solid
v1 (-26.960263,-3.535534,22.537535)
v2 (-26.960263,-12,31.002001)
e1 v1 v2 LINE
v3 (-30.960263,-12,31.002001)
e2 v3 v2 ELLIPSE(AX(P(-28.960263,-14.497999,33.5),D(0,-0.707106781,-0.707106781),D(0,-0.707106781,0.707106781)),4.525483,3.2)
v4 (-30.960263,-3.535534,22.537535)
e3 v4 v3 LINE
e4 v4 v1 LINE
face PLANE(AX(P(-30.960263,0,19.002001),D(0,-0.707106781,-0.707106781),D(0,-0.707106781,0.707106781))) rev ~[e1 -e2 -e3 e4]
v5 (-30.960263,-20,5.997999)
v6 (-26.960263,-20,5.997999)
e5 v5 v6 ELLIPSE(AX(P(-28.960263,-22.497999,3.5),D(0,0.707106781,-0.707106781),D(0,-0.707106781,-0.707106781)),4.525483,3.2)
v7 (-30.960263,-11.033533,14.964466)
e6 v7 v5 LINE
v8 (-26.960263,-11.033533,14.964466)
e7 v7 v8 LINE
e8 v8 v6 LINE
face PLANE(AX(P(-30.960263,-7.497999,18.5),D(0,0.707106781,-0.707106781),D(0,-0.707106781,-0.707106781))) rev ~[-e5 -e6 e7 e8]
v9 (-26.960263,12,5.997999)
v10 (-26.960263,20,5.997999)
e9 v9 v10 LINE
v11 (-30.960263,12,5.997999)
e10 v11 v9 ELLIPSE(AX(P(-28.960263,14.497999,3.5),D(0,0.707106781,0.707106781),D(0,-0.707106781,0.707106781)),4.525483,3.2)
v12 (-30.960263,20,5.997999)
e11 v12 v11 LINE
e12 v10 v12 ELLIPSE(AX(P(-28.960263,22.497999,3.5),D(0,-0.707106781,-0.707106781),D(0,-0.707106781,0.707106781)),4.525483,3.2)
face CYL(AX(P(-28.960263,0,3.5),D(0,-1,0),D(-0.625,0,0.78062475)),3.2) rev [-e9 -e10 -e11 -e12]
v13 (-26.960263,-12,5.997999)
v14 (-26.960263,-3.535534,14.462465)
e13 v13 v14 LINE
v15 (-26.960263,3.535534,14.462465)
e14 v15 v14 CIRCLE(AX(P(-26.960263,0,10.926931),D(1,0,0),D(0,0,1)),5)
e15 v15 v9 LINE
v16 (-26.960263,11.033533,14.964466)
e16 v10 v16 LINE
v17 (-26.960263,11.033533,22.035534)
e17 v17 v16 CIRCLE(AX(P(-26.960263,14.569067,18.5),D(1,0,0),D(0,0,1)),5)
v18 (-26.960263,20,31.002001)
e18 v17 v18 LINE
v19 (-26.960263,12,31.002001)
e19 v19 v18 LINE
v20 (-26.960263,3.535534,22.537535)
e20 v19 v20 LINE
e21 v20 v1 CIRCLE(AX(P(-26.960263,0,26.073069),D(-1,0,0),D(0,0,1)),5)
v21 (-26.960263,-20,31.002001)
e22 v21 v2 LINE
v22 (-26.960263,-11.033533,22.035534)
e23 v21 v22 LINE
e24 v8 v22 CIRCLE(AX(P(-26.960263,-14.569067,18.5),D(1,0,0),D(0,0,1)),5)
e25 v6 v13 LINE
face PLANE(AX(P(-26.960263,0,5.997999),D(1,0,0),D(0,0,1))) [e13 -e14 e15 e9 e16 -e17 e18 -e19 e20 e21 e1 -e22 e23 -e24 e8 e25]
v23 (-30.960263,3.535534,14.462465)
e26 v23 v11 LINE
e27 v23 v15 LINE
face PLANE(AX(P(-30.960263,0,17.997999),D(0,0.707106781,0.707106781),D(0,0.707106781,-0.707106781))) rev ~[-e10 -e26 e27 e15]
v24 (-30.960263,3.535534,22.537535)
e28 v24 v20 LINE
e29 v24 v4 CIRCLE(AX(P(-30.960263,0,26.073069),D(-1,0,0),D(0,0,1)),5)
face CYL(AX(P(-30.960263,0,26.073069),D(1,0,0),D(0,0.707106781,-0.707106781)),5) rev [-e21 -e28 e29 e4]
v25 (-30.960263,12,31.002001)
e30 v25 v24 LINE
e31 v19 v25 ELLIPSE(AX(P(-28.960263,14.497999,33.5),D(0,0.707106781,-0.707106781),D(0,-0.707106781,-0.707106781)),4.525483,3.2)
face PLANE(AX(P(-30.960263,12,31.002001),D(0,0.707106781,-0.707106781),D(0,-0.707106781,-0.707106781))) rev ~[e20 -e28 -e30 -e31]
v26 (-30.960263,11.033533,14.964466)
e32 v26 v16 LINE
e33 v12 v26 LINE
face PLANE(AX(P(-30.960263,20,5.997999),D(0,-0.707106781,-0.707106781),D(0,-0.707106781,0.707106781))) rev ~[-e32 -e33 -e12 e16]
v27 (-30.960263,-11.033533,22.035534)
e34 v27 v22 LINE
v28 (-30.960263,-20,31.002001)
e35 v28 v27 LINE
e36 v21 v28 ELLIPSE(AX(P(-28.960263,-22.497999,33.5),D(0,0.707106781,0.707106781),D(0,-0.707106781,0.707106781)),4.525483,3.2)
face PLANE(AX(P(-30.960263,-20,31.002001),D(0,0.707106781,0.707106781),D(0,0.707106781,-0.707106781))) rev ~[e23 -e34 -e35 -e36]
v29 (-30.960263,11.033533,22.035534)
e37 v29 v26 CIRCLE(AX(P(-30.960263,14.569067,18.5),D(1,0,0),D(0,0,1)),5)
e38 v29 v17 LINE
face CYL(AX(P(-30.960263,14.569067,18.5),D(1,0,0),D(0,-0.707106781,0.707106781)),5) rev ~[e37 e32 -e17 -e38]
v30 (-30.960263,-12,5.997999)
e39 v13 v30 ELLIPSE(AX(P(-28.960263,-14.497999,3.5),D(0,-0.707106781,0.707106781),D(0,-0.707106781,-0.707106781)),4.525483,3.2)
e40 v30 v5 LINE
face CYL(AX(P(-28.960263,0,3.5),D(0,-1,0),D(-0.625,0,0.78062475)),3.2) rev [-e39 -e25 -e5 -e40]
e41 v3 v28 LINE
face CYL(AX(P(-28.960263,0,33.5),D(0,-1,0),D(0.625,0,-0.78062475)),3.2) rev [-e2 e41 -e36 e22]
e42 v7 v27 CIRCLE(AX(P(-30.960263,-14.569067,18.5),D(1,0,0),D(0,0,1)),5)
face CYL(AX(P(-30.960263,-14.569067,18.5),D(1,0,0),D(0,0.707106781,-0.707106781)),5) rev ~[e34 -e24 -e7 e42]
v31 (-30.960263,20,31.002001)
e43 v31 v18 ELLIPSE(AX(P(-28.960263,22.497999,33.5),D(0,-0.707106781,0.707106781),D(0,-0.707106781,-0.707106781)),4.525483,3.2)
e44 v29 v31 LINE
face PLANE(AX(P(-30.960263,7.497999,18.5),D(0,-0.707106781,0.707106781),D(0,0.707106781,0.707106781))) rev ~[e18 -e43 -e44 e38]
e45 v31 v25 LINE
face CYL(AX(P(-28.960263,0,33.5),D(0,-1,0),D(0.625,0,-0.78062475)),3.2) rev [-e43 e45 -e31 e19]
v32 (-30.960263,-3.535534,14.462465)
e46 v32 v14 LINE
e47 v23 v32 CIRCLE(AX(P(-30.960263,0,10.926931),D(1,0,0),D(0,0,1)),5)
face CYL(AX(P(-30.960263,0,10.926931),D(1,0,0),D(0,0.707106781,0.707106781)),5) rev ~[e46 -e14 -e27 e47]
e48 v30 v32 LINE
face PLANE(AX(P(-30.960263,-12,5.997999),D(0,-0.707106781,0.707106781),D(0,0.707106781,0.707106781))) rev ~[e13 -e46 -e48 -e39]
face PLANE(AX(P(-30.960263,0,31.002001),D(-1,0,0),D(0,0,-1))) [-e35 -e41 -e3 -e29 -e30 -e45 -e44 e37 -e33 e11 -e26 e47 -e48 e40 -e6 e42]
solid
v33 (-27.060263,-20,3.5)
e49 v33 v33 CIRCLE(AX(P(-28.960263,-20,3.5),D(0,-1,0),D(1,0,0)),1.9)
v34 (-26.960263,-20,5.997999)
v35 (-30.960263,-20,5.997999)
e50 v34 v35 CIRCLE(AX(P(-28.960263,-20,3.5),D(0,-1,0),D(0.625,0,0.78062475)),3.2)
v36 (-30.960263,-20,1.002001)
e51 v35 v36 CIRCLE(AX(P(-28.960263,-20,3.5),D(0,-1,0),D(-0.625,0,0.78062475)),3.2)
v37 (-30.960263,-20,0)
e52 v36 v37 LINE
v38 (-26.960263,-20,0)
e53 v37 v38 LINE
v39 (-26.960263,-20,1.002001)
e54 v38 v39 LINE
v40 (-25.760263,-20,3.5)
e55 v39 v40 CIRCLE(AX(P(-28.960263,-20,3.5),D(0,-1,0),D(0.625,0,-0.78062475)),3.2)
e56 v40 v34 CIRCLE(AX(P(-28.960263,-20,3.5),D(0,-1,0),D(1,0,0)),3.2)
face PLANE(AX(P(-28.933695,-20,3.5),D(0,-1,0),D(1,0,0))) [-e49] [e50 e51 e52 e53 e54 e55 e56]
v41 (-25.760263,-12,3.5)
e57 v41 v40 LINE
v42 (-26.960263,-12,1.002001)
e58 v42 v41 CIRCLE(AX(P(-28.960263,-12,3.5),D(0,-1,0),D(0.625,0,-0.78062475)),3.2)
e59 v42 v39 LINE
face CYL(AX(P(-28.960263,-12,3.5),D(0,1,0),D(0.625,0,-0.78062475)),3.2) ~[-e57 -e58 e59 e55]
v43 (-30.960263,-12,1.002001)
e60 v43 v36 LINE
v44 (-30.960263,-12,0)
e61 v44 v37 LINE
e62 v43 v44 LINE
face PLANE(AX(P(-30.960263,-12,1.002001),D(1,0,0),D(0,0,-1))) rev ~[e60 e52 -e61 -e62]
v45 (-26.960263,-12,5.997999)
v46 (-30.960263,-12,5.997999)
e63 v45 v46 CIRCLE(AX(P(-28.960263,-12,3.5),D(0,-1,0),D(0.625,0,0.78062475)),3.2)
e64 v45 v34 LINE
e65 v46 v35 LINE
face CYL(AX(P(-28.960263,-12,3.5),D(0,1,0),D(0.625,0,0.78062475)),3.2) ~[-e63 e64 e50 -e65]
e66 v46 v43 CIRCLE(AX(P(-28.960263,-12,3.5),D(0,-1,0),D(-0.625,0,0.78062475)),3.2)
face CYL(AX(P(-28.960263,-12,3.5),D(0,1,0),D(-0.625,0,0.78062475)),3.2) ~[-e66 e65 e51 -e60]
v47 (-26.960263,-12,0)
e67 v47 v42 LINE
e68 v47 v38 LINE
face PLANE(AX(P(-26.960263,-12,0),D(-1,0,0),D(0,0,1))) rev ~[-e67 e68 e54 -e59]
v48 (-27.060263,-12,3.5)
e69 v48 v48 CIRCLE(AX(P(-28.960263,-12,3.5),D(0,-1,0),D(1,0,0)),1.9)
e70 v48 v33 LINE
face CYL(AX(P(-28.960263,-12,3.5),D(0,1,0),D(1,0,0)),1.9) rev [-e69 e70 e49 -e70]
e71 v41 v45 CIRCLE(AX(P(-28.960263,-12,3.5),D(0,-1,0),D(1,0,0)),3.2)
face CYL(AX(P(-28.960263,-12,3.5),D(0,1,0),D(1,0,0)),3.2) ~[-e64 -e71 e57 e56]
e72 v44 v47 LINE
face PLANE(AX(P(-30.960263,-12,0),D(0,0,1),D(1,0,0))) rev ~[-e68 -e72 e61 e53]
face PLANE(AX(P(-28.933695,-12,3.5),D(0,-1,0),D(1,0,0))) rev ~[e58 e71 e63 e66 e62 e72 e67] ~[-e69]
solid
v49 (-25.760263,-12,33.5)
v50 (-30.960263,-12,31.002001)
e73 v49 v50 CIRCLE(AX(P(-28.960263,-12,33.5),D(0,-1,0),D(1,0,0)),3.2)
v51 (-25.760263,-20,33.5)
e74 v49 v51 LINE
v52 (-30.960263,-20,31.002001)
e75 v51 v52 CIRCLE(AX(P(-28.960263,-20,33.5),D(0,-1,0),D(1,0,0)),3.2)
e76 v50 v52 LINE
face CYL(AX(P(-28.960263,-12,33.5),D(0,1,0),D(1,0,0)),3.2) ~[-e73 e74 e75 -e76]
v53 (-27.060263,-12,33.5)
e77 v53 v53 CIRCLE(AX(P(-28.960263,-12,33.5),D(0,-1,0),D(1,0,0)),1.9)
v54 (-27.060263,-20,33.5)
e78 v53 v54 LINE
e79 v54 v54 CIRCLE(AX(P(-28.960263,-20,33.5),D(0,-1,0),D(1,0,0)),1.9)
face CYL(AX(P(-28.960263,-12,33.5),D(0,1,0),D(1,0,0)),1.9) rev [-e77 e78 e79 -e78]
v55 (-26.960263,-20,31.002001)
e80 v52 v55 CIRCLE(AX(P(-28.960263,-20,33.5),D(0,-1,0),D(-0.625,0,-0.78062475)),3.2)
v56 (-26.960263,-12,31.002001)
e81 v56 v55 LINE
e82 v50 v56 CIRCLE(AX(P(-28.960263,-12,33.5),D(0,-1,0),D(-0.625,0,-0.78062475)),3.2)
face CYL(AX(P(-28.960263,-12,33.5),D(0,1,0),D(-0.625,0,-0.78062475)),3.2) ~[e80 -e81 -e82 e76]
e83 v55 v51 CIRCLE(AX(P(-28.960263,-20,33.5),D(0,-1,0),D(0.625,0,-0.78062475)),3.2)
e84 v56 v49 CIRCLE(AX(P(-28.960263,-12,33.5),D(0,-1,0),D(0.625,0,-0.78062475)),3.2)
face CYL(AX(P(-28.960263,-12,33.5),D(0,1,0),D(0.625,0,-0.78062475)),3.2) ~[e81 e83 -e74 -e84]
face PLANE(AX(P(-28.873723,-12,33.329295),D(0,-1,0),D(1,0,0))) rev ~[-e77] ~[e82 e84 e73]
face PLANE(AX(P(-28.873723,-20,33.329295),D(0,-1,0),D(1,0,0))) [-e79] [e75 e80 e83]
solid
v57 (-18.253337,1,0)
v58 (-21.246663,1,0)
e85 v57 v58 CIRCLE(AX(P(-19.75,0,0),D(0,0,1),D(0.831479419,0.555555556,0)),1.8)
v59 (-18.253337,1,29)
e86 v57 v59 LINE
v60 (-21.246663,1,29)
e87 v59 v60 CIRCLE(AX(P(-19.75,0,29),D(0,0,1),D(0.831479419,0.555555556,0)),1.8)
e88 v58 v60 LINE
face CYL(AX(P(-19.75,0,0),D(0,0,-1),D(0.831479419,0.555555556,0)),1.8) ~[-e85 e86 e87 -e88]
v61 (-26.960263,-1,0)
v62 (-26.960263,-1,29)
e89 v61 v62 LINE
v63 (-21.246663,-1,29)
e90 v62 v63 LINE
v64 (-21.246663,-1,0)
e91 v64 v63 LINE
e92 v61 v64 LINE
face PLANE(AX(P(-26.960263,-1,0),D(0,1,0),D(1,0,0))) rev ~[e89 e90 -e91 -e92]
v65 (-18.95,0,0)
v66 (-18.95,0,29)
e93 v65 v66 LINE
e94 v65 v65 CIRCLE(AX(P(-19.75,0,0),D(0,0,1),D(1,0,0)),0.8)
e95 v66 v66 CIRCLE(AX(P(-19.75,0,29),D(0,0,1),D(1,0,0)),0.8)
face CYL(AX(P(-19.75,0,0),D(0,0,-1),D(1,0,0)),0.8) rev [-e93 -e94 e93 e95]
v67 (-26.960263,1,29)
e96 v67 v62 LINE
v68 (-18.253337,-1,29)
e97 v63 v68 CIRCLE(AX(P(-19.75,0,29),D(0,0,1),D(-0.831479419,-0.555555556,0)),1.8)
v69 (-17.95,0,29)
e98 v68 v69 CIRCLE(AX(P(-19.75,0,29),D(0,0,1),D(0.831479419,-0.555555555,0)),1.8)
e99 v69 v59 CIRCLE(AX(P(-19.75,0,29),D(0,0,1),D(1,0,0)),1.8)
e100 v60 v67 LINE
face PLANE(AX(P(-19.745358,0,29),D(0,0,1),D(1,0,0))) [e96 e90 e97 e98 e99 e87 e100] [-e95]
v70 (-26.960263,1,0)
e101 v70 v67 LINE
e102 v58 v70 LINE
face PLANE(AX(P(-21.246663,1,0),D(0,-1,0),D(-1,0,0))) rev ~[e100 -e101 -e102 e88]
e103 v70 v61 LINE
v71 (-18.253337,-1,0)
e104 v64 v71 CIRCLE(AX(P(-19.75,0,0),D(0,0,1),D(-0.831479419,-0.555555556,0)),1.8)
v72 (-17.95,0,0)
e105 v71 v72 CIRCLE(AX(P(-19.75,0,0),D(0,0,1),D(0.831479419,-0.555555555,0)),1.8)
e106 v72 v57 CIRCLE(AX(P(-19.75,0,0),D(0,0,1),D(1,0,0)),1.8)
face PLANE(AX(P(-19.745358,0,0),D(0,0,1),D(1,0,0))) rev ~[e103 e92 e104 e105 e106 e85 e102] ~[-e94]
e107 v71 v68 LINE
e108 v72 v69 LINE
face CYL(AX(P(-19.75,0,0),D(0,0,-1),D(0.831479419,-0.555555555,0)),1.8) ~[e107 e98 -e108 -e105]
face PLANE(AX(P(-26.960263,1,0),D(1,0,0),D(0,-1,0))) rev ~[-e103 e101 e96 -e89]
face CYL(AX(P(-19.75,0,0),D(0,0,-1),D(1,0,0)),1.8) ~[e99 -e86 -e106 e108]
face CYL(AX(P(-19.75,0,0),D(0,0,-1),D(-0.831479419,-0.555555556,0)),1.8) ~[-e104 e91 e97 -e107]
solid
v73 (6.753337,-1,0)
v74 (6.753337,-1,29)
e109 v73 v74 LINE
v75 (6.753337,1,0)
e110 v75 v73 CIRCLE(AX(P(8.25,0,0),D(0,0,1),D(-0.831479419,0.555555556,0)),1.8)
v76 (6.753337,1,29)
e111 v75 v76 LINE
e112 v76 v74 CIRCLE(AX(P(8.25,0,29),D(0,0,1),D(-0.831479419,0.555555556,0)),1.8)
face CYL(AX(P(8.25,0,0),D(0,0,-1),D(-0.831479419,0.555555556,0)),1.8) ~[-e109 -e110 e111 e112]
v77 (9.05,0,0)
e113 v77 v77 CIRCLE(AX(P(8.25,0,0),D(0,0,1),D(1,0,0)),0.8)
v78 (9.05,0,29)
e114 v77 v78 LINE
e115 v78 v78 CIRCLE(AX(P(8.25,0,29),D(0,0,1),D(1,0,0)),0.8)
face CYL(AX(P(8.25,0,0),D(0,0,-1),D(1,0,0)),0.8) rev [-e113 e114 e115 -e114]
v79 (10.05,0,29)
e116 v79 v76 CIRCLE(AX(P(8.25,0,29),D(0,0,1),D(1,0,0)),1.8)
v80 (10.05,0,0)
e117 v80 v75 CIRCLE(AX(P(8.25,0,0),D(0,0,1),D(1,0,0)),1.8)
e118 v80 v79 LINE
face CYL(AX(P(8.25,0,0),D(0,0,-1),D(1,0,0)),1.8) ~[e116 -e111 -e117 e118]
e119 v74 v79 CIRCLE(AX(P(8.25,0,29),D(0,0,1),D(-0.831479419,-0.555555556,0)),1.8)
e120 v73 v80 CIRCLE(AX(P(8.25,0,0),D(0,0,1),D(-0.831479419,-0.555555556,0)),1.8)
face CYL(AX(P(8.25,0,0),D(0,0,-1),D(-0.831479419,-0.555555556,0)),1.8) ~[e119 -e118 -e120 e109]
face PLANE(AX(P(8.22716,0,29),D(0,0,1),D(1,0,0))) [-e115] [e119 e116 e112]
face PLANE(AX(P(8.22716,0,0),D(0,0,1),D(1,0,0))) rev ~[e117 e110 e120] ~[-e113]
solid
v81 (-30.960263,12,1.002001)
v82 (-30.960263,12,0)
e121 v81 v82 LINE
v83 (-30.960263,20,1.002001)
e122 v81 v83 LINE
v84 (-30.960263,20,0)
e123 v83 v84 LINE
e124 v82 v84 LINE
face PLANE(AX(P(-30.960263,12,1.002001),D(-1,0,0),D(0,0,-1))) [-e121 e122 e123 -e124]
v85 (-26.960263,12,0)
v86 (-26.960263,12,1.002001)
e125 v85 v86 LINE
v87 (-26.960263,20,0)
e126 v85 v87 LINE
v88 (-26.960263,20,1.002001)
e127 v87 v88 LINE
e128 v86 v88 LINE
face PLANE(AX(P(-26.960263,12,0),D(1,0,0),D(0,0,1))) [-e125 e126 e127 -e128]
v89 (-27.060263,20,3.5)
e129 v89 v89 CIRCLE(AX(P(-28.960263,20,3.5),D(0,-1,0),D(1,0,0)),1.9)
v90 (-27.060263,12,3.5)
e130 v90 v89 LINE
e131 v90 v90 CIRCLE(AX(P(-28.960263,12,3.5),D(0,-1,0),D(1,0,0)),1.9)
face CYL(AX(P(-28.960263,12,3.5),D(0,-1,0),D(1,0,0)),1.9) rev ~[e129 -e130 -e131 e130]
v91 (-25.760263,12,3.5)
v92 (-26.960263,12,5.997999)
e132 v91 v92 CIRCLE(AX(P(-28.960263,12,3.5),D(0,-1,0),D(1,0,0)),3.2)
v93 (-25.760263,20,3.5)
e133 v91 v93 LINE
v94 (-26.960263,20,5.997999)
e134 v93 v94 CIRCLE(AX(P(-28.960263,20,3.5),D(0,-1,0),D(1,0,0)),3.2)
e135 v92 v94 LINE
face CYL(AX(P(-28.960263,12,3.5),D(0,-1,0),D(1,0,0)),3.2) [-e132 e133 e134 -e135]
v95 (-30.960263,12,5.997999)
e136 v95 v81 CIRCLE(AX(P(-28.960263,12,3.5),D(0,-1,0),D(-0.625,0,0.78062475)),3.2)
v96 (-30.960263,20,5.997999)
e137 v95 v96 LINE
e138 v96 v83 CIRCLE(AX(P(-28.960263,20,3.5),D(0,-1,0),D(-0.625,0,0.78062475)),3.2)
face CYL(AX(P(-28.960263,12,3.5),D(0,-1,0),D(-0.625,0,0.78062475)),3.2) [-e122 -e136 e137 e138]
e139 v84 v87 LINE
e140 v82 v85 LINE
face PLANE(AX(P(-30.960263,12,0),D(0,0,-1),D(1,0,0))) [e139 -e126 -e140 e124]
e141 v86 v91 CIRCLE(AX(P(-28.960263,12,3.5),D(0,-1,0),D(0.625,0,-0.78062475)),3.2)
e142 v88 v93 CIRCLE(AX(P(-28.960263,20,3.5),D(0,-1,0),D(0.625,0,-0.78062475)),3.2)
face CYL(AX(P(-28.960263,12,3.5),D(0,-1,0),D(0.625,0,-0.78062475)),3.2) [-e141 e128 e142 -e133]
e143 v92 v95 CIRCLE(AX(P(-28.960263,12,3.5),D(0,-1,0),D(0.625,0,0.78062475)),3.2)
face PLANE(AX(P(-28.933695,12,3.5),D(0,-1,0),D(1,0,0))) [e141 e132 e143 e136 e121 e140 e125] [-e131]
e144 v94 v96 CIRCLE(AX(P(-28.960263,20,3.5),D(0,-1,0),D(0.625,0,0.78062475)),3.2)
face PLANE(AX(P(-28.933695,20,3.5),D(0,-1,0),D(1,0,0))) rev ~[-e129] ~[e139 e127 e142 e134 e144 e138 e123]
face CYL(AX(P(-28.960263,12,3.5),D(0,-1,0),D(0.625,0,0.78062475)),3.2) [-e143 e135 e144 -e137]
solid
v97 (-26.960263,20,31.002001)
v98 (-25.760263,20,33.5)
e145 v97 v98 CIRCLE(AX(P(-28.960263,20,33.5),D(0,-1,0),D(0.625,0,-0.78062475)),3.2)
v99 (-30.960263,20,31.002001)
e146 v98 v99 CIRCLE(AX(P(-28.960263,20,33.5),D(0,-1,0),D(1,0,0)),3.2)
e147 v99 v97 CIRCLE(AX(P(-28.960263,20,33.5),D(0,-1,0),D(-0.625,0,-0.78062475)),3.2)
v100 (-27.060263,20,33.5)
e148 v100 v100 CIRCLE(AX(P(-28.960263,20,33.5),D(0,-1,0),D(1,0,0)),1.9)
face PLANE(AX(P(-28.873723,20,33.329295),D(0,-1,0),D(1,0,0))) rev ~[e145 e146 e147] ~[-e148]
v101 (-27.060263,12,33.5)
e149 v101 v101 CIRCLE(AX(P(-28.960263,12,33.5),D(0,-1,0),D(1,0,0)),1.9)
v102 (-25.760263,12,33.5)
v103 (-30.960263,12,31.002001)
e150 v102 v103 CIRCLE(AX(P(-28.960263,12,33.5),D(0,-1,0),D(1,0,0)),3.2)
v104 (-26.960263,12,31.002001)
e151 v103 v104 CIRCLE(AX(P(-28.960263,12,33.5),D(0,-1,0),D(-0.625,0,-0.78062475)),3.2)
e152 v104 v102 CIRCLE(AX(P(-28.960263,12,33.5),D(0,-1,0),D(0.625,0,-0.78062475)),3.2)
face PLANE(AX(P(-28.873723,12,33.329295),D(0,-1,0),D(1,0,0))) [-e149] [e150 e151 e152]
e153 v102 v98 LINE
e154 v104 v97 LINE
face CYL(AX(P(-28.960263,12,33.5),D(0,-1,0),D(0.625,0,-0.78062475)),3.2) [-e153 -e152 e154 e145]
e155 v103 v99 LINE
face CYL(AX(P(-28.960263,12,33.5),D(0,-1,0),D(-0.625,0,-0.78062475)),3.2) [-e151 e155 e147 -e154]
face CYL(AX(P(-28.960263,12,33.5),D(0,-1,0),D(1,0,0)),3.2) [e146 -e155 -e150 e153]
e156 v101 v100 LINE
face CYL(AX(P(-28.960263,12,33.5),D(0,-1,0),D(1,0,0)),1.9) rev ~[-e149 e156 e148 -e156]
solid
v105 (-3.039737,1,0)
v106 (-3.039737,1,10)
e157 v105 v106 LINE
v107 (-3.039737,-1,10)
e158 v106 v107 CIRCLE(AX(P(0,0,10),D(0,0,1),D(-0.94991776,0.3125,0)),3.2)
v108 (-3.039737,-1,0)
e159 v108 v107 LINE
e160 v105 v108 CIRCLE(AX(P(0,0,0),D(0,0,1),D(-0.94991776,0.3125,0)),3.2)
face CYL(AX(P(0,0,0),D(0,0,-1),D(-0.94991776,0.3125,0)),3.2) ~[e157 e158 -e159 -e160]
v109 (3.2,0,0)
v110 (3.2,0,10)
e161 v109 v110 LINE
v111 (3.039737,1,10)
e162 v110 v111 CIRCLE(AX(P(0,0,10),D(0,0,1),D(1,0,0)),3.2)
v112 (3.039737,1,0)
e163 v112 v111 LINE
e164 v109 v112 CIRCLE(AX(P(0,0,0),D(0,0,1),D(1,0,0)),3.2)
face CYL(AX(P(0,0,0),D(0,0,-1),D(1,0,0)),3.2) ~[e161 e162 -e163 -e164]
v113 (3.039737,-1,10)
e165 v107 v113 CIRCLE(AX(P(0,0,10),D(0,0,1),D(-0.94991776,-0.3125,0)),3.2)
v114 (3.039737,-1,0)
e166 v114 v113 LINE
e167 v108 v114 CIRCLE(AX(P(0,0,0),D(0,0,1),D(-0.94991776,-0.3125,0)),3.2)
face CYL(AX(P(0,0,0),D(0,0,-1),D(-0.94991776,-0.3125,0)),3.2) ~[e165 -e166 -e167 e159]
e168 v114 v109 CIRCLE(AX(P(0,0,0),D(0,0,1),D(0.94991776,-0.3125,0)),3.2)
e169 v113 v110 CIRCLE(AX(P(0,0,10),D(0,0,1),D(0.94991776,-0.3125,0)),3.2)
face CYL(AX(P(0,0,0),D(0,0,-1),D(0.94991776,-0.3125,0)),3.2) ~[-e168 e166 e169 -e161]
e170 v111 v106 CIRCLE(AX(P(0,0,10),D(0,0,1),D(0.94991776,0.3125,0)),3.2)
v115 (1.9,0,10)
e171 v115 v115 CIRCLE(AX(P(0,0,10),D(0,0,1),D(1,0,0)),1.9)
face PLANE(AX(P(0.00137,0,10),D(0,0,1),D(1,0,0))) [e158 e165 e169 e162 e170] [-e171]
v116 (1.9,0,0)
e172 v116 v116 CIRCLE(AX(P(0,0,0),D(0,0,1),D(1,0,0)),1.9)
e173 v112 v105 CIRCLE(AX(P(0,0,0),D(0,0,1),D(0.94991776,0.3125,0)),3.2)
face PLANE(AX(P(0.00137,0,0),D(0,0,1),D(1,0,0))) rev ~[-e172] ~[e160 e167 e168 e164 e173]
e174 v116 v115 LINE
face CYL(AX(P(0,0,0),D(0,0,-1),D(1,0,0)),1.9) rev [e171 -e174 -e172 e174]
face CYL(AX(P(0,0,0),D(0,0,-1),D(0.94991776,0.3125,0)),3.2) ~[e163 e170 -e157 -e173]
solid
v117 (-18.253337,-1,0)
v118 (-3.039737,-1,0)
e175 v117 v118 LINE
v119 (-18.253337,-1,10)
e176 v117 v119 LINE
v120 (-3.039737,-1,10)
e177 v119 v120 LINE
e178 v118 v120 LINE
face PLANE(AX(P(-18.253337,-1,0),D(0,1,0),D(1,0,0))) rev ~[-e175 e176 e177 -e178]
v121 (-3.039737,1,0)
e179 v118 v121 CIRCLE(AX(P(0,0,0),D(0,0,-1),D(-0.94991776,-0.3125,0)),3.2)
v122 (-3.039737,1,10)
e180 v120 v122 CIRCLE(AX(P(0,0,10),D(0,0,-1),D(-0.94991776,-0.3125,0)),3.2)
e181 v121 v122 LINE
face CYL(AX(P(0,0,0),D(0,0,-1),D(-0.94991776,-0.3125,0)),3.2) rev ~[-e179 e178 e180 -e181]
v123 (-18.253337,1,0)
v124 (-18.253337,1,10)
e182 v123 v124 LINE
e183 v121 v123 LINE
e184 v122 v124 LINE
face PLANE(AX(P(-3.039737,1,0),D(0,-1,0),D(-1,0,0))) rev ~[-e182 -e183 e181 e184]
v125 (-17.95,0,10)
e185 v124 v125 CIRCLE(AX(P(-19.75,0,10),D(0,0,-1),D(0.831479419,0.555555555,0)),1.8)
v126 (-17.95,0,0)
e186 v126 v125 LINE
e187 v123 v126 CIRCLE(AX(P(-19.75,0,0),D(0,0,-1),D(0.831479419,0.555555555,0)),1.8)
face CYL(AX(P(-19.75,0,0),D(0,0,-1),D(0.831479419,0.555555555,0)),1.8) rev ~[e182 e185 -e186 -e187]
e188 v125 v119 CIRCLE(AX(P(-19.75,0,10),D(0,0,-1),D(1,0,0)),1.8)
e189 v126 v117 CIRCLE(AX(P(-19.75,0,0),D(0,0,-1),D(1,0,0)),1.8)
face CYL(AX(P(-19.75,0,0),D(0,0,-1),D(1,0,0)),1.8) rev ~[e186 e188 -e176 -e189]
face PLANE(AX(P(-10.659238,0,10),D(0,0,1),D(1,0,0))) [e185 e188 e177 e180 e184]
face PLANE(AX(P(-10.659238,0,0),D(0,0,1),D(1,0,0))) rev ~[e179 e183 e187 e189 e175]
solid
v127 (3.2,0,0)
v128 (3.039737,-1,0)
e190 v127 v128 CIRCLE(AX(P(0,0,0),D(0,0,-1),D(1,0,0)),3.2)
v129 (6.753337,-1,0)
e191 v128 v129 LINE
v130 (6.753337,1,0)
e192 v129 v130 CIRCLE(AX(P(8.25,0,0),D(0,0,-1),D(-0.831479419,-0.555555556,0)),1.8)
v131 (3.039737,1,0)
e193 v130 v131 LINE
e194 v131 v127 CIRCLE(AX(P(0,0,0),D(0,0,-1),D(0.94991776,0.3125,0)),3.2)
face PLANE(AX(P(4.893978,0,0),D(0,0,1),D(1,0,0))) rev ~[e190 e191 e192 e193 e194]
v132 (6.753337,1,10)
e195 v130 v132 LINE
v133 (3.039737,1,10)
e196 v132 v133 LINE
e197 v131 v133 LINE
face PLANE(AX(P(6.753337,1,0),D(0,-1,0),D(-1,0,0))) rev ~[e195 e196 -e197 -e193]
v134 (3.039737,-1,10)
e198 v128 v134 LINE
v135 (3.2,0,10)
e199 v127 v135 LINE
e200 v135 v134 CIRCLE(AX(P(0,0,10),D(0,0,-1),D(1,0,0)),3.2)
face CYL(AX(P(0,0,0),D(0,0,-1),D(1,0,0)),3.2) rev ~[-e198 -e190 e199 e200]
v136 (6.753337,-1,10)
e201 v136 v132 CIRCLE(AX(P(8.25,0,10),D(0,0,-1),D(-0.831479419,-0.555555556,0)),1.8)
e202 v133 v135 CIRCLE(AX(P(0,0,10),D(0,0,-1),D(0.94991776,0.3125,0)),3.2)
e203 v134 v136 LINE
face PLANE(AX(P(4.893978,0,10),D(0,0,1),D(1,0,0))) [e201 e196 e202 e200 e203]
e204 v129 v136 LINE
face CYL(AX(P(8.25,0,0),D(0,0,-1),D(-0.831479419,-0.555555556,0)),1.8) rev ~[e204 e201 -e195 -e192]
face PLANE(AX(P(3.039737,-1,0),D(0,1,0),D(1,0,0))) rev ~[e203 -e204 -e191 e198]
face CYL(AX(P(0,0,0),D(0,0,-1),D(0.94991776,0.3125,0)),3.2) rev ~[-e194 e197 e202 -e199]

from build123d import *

# Parameters (mm, degrees)
F0_R     = 0.8
F1_DEPTH = 29
F2_DEPTH = 10
F0_R_2   = 1.9
F3_DEPTH = 10
F5_START = 12
F4_R     = 1.9
F5_DEPTH = 8
F6_START = -12
F6_DEPTH = 8
F7_DEPTH = 20
F9_DEPTH = 4
F10_R    = 5


with BuildPart() as f1:
    # F0 (on Top) → F1 (new body)
    with BuildSketch(Plane.XY):
        with BuildLine():
            ThreePointArc((-17.95, 0), (-18.027502784, 0.522497216), (-18.2533370453, 1))
            ThreePointArc((-18.2533370453, 1), (-19.75, 1.8), (-21.2466629547, 1))
            ThreePointArc((-21.2466629547, 1), (-21.55, 0), (-21.2466629547, -1))
            ThreePointArc((-21.2466629547, -1), (-19.75, -1.8), (-18.2533370453, -1))
            ThreePointArc((-18.2533370453, -1), (-18.027502784, -0.522497216), (-17.95, 0))
        make_face()
        with Locations((-19.75, 0)):
            Circle(F0_R, mode=Mode.SUBTRACT)
        with BuildLine():
            ThreePointArc((-21.2466629547, -1), (-21.55, 0), (-21.2466629547, 1))
            Line((-21.2466629547, 1), (-26.9602631693, 1))
            Line((-26.9602631693, 1), (-26.9602631693, -1))
            Line((-26.9602631693, -1), (-21.2466629547, -1))
        make_face()
    extrude(amount=F1_DEPTH)


with BuildPart() as f1b:
    # F0 (on Top) → F1, piece 2 (new body)
    with BuildSketch(Plane.XY):
        with BuildLine():
            ThreePointArc((10.05, 0), (8.772497216, 1.722497216), (6.7533370453, 1))
            ThreePointArc((6.7533370453, 1), (6.45, 0), (6.7533370453, -1))
            ThreePointArc((6.7533370453, -1), (8.772497216, -1.722497216), (10.05, 0))
        make_face()
        with Locations((8.25, 0)):
            Circle(F0_R, mode=Mode.SUBTRACT)
    extrude(amount=F1_DEPTH)


with BuildPart() as f2:
    # F0 (on Top) → F2 (new body)
    with BuildSketch(Plane.XY):
        with BuildLine():
            ThreePointArc((-3.0397368307, -1), (-3.2, 0), (-3.0397368307, 1))
            Line((-3.0397368307, 1), (-18.2533370453, 1))
            ThreePointArc((-18.2533370453, 1), (-18.027502784, 0.522497216), (-17.95, 0))
            ThreePointArc((-17.95, 0), (-18.027502784, -0.522497216), (-18.2533370453, -1))
            Line((-18.2533370453, -1), (-3.0397368307, -1))
        make_face()
    extrude(amount=F2_DEPTH)


with BuildPart() as f2b:
    # F0 (on Top) → F2, piece 2 (new body)
    with BuildSketch(Plane.XY):
        with BuildLine():
            ThreePointArc((3.0397368307, 1), (3.1596801941, 0.5063803618), (3.2, 0))
            ThreePointArc((3.2, 0), (3.1596801941, -0.5063803618), (3.0397368307, -1))
            Line((3.0397368307, -1), (6.7533370453, -1))
            ThreePointArc((6.7533370453, -1), (6.45, 0), (6.7533370453, 1))
            Line((6.7533370453, 1), (3.0397368307, 1))
        make_face()
    extrude(amount=F2_DEPTH)


with BuildPart() as f3:
    # F0 (on Top) → F3 (new body)
    with BuildSketch(Plane.XY):
        with BuildLine():
            ThreePointArc((3.0397368307, -1), (3.1596801941, -0.5063803618), (3.2, 0))
            ThreePointArc((3.2, 0), (3.1596801941, 0.5063803618), (3.0397368307, 1))
            ThreePointArc((3.0397368307, 1), (0, 3.2), (-3.0397368307, 1))
            ThreePointArc((-3.0397368307, 1), (-3.2, 0), (-3.0397368307, -1))
            ThreePointArc((-3.0397368307, -1), (0, -3.2), (3.0397368307, -1))
        make_face()
        Circle(F0_R_2, mode=Mode.SUBTRACT)
    extrude(amount=F3_DEPTH)


with BuildPart() as f5:
    # F4 (on Front) → F5 (new body)
    with BuildSketch(Plane.XZ.offset(F5_START)):
        with BuildLine():
            ThreePointArc((-26.9602631693, 31.0020008006), (-26.0758221489, 32.1143593539), (-25.7602631693, 33.5))
            ThreePointArc((-25.7602631693, 33.5), (-30.3459038153, 36.3844410204), (-30.9602631693, 31.0020008006))
            ThreePointArc((-30.9602631693, 31.0020008006), (-28.9602631693, 30.3), (-26.9602631693, 31.0020008006))
        make_face()
        with Locations((-28.9602631693, 33.5)):
            Circle(F4_R, mode=Mode.SUBTRACT)
    extrude(amount=F5_DEPTH)


with BuildPart() as f5b:
    # F4 (on Front) → F5, piece 2 (new body)
    with BuildSketch(Plane.XZ.offset(F5_START)):
        with BuildLine():
            ThreePointArc((-26.9602631693, 5.9979991994), (-28.9602631693, 6.7), (-30.9602631693, 5.9979991994))
            ThreePointArc((-30.9602631693, 5.9979991994), (-32.1602631693, 3.5), (-30.9602631693, 1.0020008006))
            ThreePointArc((-30.9602631693, 1.0020008006), (-28.9602631693, 0.3), (-26.9602631693, 1.0020008006))
            ThreePointArc((-26.9602631693, 1.0020008006), (-26.0758221489, 2.1143593539), (-25.7602631693, 3.5))
            ThreePointArc((-25.7602631693, 3.5), (-26.0758221489, 4.8856406461), (-26.9602631693, 5.9979991994))
        make_face()
        with Locations((-28.9602631693, 3.5)):
            Circle(F4_R, mode=Mode.SUBTRACT)
        with BuildLine():
            ThreePointArc((-26.9602631693, 1.0020008006), (-28.9602631693, 0.3), (-30.9602631693, 1.0020008006))
            Line((-30.9602631693, 1.0020008006), (-30.9602631693, 0))
            Line((-30.9602631693, 0), (-26.9602631693, 0))
            Line((-26.9602631693, 0), (-26.9602631693, 1.0020008006))
        make_face()
    extrude(amount=F5_DEPTH)


with BuildPart() as f6:
    # F4 (on Front) → F6 (new body)
    with BuildSketch(Plane.XZ.offset(F6_START)):
        with BuildLine():
            ThreePointArc((-26.9602631693, 31.0020008006), (-26.0758221489, 32.1143593539), (-25.7602631693, 33.5))
            ThreePointArc((-25.7602631693, 33.5), (-30.3459038153, 36.3844410204), (-30.9602631693, 31.0020008006))
            ThreePointArc((-30.9602631693, 31.0020008006), (-28.9602631693, 30.3), (-26.9602631693, 31.0020008006))
        make_face()
        with Locations((-28.9602631693, 33.5)):
            Circle(F4_R, mode=Mode.SUBTRACT)
    extrude(amount=-F6_DEPTH)


with BuildPart() as f6b:
    # F4 (on Front) → F6, piece 2 (new body)
    with BuildSketch(Plane.XZ.offset(F6_START)):
        with BuildLine():
            ThreePointArc((-26.9602631693, 5.9979991994), (-28.9602631693, 6.7), (-30.9602631693, 5.9979991994))
            ThreePointArc((-30.9602631693, 5.9979991994), (-32.1602631693, 3.5), (-30.9602631693, 1.0020008006))
            ThreePointArc((-30.9602631693, 1.0020008006), (-28.9602631693, 0.3), (-26.9602631693, 1.0020008006))
            ThreePointArc((-26.9602631693, 1.0020008006), (-26.0758221489, 2.1143593539), (-25.7602631693, 3.5))
            ThreePointArc((-25.7602631693, 3.5), (-26.0758221489, 4.8856406461), (-26.9602631693, 5.9979991994))
        make_face()
        with Locations((-28.9602631693, 3.5)):
            Circle(F4_R, mode=Mode.SUBTRACT)
        with BuildLine():
            ThreePointArc((-26.9602631693, 1.0020008006), (-28.9602631693, 0.3), (-30.9602631693, 1.0020008006))
            Line((-30.9602631693, 1.0020008006), (-30.9602631693, 0))
            Line((-30.9602631693, 0), (-26.9602631693, 0))
            Line((-26.9602631693, 0), (-26.9602631693, 1.0020008006))
        make_face()
    extrude(amount=-F6_DEPTH)


with BuildPart() as f7:
    # F4 (on Front) → F7 (new body, symmetric)
    with BuildSketch(Plane.XZ):
        with BuildLine():
            ThreePointArc((-26.9602631693, 31.0020008006), (-28.9602631693, 30.3), (-30.9602631693, 31.0020008006))
            Line((-30.9602631693, 31.0020008006), (-30.9602631693, 5.9979991994))
            ThreePointArc((-30.9602631693, 5.9979991994), (-28.9602631693, 6.7), (-26.9602631693, 5.9979991994))
            Line((-26.9602631693, 5.9979991994), (-26.9602631693, 31.0020008006))
        make_face()
    extrude(amount=F7_DEPTH, both=True)

    # F8 (on face) → F9 (cut, through all)
    with BuildSketch(Plane(origin=(-30.9602631693, 0, 0), x_dir=(0, -1, 0), z_dir=(-1, 0, 0))):
        Polygon((-7.4979991994, 18.5), (-20, 31.0020008006), (-20, 5.9979991994), align=None)
        Polygon((12, 31.0020008006), (-12, 31.0020008006), (0, 19.0020008006), align=None)
        Polygon((20, 5.9979991994), (20, 31.0020008006), (7.4979991994, 18.5), align=None)
        Polygon((0, 17.9979991994), (-12, 5.9979991994), (12, 5.9979991994), align=None)
    extrude(amount=-F9_DEPTH, mode=Mode.SUBTRACT)

    # F10
    f10_edges = [f7.edges().sort_by_distance(p)[0] for p in [
        (-28.960263, 7.497999, 18.5),
        (-28.960263, -7.497999, 18.5),
        (-28.960263, 0, 19.002001),
        (-28.960263, 0, 17.997999),
    ]]
    fillet(f10_edges, radius=F10_R)


solid = Compound([f1.part, f1b.part, f2.part, f2b.part, f3.part, f5.part, f5b.part, f6.part, f6b.part, f7.part])
